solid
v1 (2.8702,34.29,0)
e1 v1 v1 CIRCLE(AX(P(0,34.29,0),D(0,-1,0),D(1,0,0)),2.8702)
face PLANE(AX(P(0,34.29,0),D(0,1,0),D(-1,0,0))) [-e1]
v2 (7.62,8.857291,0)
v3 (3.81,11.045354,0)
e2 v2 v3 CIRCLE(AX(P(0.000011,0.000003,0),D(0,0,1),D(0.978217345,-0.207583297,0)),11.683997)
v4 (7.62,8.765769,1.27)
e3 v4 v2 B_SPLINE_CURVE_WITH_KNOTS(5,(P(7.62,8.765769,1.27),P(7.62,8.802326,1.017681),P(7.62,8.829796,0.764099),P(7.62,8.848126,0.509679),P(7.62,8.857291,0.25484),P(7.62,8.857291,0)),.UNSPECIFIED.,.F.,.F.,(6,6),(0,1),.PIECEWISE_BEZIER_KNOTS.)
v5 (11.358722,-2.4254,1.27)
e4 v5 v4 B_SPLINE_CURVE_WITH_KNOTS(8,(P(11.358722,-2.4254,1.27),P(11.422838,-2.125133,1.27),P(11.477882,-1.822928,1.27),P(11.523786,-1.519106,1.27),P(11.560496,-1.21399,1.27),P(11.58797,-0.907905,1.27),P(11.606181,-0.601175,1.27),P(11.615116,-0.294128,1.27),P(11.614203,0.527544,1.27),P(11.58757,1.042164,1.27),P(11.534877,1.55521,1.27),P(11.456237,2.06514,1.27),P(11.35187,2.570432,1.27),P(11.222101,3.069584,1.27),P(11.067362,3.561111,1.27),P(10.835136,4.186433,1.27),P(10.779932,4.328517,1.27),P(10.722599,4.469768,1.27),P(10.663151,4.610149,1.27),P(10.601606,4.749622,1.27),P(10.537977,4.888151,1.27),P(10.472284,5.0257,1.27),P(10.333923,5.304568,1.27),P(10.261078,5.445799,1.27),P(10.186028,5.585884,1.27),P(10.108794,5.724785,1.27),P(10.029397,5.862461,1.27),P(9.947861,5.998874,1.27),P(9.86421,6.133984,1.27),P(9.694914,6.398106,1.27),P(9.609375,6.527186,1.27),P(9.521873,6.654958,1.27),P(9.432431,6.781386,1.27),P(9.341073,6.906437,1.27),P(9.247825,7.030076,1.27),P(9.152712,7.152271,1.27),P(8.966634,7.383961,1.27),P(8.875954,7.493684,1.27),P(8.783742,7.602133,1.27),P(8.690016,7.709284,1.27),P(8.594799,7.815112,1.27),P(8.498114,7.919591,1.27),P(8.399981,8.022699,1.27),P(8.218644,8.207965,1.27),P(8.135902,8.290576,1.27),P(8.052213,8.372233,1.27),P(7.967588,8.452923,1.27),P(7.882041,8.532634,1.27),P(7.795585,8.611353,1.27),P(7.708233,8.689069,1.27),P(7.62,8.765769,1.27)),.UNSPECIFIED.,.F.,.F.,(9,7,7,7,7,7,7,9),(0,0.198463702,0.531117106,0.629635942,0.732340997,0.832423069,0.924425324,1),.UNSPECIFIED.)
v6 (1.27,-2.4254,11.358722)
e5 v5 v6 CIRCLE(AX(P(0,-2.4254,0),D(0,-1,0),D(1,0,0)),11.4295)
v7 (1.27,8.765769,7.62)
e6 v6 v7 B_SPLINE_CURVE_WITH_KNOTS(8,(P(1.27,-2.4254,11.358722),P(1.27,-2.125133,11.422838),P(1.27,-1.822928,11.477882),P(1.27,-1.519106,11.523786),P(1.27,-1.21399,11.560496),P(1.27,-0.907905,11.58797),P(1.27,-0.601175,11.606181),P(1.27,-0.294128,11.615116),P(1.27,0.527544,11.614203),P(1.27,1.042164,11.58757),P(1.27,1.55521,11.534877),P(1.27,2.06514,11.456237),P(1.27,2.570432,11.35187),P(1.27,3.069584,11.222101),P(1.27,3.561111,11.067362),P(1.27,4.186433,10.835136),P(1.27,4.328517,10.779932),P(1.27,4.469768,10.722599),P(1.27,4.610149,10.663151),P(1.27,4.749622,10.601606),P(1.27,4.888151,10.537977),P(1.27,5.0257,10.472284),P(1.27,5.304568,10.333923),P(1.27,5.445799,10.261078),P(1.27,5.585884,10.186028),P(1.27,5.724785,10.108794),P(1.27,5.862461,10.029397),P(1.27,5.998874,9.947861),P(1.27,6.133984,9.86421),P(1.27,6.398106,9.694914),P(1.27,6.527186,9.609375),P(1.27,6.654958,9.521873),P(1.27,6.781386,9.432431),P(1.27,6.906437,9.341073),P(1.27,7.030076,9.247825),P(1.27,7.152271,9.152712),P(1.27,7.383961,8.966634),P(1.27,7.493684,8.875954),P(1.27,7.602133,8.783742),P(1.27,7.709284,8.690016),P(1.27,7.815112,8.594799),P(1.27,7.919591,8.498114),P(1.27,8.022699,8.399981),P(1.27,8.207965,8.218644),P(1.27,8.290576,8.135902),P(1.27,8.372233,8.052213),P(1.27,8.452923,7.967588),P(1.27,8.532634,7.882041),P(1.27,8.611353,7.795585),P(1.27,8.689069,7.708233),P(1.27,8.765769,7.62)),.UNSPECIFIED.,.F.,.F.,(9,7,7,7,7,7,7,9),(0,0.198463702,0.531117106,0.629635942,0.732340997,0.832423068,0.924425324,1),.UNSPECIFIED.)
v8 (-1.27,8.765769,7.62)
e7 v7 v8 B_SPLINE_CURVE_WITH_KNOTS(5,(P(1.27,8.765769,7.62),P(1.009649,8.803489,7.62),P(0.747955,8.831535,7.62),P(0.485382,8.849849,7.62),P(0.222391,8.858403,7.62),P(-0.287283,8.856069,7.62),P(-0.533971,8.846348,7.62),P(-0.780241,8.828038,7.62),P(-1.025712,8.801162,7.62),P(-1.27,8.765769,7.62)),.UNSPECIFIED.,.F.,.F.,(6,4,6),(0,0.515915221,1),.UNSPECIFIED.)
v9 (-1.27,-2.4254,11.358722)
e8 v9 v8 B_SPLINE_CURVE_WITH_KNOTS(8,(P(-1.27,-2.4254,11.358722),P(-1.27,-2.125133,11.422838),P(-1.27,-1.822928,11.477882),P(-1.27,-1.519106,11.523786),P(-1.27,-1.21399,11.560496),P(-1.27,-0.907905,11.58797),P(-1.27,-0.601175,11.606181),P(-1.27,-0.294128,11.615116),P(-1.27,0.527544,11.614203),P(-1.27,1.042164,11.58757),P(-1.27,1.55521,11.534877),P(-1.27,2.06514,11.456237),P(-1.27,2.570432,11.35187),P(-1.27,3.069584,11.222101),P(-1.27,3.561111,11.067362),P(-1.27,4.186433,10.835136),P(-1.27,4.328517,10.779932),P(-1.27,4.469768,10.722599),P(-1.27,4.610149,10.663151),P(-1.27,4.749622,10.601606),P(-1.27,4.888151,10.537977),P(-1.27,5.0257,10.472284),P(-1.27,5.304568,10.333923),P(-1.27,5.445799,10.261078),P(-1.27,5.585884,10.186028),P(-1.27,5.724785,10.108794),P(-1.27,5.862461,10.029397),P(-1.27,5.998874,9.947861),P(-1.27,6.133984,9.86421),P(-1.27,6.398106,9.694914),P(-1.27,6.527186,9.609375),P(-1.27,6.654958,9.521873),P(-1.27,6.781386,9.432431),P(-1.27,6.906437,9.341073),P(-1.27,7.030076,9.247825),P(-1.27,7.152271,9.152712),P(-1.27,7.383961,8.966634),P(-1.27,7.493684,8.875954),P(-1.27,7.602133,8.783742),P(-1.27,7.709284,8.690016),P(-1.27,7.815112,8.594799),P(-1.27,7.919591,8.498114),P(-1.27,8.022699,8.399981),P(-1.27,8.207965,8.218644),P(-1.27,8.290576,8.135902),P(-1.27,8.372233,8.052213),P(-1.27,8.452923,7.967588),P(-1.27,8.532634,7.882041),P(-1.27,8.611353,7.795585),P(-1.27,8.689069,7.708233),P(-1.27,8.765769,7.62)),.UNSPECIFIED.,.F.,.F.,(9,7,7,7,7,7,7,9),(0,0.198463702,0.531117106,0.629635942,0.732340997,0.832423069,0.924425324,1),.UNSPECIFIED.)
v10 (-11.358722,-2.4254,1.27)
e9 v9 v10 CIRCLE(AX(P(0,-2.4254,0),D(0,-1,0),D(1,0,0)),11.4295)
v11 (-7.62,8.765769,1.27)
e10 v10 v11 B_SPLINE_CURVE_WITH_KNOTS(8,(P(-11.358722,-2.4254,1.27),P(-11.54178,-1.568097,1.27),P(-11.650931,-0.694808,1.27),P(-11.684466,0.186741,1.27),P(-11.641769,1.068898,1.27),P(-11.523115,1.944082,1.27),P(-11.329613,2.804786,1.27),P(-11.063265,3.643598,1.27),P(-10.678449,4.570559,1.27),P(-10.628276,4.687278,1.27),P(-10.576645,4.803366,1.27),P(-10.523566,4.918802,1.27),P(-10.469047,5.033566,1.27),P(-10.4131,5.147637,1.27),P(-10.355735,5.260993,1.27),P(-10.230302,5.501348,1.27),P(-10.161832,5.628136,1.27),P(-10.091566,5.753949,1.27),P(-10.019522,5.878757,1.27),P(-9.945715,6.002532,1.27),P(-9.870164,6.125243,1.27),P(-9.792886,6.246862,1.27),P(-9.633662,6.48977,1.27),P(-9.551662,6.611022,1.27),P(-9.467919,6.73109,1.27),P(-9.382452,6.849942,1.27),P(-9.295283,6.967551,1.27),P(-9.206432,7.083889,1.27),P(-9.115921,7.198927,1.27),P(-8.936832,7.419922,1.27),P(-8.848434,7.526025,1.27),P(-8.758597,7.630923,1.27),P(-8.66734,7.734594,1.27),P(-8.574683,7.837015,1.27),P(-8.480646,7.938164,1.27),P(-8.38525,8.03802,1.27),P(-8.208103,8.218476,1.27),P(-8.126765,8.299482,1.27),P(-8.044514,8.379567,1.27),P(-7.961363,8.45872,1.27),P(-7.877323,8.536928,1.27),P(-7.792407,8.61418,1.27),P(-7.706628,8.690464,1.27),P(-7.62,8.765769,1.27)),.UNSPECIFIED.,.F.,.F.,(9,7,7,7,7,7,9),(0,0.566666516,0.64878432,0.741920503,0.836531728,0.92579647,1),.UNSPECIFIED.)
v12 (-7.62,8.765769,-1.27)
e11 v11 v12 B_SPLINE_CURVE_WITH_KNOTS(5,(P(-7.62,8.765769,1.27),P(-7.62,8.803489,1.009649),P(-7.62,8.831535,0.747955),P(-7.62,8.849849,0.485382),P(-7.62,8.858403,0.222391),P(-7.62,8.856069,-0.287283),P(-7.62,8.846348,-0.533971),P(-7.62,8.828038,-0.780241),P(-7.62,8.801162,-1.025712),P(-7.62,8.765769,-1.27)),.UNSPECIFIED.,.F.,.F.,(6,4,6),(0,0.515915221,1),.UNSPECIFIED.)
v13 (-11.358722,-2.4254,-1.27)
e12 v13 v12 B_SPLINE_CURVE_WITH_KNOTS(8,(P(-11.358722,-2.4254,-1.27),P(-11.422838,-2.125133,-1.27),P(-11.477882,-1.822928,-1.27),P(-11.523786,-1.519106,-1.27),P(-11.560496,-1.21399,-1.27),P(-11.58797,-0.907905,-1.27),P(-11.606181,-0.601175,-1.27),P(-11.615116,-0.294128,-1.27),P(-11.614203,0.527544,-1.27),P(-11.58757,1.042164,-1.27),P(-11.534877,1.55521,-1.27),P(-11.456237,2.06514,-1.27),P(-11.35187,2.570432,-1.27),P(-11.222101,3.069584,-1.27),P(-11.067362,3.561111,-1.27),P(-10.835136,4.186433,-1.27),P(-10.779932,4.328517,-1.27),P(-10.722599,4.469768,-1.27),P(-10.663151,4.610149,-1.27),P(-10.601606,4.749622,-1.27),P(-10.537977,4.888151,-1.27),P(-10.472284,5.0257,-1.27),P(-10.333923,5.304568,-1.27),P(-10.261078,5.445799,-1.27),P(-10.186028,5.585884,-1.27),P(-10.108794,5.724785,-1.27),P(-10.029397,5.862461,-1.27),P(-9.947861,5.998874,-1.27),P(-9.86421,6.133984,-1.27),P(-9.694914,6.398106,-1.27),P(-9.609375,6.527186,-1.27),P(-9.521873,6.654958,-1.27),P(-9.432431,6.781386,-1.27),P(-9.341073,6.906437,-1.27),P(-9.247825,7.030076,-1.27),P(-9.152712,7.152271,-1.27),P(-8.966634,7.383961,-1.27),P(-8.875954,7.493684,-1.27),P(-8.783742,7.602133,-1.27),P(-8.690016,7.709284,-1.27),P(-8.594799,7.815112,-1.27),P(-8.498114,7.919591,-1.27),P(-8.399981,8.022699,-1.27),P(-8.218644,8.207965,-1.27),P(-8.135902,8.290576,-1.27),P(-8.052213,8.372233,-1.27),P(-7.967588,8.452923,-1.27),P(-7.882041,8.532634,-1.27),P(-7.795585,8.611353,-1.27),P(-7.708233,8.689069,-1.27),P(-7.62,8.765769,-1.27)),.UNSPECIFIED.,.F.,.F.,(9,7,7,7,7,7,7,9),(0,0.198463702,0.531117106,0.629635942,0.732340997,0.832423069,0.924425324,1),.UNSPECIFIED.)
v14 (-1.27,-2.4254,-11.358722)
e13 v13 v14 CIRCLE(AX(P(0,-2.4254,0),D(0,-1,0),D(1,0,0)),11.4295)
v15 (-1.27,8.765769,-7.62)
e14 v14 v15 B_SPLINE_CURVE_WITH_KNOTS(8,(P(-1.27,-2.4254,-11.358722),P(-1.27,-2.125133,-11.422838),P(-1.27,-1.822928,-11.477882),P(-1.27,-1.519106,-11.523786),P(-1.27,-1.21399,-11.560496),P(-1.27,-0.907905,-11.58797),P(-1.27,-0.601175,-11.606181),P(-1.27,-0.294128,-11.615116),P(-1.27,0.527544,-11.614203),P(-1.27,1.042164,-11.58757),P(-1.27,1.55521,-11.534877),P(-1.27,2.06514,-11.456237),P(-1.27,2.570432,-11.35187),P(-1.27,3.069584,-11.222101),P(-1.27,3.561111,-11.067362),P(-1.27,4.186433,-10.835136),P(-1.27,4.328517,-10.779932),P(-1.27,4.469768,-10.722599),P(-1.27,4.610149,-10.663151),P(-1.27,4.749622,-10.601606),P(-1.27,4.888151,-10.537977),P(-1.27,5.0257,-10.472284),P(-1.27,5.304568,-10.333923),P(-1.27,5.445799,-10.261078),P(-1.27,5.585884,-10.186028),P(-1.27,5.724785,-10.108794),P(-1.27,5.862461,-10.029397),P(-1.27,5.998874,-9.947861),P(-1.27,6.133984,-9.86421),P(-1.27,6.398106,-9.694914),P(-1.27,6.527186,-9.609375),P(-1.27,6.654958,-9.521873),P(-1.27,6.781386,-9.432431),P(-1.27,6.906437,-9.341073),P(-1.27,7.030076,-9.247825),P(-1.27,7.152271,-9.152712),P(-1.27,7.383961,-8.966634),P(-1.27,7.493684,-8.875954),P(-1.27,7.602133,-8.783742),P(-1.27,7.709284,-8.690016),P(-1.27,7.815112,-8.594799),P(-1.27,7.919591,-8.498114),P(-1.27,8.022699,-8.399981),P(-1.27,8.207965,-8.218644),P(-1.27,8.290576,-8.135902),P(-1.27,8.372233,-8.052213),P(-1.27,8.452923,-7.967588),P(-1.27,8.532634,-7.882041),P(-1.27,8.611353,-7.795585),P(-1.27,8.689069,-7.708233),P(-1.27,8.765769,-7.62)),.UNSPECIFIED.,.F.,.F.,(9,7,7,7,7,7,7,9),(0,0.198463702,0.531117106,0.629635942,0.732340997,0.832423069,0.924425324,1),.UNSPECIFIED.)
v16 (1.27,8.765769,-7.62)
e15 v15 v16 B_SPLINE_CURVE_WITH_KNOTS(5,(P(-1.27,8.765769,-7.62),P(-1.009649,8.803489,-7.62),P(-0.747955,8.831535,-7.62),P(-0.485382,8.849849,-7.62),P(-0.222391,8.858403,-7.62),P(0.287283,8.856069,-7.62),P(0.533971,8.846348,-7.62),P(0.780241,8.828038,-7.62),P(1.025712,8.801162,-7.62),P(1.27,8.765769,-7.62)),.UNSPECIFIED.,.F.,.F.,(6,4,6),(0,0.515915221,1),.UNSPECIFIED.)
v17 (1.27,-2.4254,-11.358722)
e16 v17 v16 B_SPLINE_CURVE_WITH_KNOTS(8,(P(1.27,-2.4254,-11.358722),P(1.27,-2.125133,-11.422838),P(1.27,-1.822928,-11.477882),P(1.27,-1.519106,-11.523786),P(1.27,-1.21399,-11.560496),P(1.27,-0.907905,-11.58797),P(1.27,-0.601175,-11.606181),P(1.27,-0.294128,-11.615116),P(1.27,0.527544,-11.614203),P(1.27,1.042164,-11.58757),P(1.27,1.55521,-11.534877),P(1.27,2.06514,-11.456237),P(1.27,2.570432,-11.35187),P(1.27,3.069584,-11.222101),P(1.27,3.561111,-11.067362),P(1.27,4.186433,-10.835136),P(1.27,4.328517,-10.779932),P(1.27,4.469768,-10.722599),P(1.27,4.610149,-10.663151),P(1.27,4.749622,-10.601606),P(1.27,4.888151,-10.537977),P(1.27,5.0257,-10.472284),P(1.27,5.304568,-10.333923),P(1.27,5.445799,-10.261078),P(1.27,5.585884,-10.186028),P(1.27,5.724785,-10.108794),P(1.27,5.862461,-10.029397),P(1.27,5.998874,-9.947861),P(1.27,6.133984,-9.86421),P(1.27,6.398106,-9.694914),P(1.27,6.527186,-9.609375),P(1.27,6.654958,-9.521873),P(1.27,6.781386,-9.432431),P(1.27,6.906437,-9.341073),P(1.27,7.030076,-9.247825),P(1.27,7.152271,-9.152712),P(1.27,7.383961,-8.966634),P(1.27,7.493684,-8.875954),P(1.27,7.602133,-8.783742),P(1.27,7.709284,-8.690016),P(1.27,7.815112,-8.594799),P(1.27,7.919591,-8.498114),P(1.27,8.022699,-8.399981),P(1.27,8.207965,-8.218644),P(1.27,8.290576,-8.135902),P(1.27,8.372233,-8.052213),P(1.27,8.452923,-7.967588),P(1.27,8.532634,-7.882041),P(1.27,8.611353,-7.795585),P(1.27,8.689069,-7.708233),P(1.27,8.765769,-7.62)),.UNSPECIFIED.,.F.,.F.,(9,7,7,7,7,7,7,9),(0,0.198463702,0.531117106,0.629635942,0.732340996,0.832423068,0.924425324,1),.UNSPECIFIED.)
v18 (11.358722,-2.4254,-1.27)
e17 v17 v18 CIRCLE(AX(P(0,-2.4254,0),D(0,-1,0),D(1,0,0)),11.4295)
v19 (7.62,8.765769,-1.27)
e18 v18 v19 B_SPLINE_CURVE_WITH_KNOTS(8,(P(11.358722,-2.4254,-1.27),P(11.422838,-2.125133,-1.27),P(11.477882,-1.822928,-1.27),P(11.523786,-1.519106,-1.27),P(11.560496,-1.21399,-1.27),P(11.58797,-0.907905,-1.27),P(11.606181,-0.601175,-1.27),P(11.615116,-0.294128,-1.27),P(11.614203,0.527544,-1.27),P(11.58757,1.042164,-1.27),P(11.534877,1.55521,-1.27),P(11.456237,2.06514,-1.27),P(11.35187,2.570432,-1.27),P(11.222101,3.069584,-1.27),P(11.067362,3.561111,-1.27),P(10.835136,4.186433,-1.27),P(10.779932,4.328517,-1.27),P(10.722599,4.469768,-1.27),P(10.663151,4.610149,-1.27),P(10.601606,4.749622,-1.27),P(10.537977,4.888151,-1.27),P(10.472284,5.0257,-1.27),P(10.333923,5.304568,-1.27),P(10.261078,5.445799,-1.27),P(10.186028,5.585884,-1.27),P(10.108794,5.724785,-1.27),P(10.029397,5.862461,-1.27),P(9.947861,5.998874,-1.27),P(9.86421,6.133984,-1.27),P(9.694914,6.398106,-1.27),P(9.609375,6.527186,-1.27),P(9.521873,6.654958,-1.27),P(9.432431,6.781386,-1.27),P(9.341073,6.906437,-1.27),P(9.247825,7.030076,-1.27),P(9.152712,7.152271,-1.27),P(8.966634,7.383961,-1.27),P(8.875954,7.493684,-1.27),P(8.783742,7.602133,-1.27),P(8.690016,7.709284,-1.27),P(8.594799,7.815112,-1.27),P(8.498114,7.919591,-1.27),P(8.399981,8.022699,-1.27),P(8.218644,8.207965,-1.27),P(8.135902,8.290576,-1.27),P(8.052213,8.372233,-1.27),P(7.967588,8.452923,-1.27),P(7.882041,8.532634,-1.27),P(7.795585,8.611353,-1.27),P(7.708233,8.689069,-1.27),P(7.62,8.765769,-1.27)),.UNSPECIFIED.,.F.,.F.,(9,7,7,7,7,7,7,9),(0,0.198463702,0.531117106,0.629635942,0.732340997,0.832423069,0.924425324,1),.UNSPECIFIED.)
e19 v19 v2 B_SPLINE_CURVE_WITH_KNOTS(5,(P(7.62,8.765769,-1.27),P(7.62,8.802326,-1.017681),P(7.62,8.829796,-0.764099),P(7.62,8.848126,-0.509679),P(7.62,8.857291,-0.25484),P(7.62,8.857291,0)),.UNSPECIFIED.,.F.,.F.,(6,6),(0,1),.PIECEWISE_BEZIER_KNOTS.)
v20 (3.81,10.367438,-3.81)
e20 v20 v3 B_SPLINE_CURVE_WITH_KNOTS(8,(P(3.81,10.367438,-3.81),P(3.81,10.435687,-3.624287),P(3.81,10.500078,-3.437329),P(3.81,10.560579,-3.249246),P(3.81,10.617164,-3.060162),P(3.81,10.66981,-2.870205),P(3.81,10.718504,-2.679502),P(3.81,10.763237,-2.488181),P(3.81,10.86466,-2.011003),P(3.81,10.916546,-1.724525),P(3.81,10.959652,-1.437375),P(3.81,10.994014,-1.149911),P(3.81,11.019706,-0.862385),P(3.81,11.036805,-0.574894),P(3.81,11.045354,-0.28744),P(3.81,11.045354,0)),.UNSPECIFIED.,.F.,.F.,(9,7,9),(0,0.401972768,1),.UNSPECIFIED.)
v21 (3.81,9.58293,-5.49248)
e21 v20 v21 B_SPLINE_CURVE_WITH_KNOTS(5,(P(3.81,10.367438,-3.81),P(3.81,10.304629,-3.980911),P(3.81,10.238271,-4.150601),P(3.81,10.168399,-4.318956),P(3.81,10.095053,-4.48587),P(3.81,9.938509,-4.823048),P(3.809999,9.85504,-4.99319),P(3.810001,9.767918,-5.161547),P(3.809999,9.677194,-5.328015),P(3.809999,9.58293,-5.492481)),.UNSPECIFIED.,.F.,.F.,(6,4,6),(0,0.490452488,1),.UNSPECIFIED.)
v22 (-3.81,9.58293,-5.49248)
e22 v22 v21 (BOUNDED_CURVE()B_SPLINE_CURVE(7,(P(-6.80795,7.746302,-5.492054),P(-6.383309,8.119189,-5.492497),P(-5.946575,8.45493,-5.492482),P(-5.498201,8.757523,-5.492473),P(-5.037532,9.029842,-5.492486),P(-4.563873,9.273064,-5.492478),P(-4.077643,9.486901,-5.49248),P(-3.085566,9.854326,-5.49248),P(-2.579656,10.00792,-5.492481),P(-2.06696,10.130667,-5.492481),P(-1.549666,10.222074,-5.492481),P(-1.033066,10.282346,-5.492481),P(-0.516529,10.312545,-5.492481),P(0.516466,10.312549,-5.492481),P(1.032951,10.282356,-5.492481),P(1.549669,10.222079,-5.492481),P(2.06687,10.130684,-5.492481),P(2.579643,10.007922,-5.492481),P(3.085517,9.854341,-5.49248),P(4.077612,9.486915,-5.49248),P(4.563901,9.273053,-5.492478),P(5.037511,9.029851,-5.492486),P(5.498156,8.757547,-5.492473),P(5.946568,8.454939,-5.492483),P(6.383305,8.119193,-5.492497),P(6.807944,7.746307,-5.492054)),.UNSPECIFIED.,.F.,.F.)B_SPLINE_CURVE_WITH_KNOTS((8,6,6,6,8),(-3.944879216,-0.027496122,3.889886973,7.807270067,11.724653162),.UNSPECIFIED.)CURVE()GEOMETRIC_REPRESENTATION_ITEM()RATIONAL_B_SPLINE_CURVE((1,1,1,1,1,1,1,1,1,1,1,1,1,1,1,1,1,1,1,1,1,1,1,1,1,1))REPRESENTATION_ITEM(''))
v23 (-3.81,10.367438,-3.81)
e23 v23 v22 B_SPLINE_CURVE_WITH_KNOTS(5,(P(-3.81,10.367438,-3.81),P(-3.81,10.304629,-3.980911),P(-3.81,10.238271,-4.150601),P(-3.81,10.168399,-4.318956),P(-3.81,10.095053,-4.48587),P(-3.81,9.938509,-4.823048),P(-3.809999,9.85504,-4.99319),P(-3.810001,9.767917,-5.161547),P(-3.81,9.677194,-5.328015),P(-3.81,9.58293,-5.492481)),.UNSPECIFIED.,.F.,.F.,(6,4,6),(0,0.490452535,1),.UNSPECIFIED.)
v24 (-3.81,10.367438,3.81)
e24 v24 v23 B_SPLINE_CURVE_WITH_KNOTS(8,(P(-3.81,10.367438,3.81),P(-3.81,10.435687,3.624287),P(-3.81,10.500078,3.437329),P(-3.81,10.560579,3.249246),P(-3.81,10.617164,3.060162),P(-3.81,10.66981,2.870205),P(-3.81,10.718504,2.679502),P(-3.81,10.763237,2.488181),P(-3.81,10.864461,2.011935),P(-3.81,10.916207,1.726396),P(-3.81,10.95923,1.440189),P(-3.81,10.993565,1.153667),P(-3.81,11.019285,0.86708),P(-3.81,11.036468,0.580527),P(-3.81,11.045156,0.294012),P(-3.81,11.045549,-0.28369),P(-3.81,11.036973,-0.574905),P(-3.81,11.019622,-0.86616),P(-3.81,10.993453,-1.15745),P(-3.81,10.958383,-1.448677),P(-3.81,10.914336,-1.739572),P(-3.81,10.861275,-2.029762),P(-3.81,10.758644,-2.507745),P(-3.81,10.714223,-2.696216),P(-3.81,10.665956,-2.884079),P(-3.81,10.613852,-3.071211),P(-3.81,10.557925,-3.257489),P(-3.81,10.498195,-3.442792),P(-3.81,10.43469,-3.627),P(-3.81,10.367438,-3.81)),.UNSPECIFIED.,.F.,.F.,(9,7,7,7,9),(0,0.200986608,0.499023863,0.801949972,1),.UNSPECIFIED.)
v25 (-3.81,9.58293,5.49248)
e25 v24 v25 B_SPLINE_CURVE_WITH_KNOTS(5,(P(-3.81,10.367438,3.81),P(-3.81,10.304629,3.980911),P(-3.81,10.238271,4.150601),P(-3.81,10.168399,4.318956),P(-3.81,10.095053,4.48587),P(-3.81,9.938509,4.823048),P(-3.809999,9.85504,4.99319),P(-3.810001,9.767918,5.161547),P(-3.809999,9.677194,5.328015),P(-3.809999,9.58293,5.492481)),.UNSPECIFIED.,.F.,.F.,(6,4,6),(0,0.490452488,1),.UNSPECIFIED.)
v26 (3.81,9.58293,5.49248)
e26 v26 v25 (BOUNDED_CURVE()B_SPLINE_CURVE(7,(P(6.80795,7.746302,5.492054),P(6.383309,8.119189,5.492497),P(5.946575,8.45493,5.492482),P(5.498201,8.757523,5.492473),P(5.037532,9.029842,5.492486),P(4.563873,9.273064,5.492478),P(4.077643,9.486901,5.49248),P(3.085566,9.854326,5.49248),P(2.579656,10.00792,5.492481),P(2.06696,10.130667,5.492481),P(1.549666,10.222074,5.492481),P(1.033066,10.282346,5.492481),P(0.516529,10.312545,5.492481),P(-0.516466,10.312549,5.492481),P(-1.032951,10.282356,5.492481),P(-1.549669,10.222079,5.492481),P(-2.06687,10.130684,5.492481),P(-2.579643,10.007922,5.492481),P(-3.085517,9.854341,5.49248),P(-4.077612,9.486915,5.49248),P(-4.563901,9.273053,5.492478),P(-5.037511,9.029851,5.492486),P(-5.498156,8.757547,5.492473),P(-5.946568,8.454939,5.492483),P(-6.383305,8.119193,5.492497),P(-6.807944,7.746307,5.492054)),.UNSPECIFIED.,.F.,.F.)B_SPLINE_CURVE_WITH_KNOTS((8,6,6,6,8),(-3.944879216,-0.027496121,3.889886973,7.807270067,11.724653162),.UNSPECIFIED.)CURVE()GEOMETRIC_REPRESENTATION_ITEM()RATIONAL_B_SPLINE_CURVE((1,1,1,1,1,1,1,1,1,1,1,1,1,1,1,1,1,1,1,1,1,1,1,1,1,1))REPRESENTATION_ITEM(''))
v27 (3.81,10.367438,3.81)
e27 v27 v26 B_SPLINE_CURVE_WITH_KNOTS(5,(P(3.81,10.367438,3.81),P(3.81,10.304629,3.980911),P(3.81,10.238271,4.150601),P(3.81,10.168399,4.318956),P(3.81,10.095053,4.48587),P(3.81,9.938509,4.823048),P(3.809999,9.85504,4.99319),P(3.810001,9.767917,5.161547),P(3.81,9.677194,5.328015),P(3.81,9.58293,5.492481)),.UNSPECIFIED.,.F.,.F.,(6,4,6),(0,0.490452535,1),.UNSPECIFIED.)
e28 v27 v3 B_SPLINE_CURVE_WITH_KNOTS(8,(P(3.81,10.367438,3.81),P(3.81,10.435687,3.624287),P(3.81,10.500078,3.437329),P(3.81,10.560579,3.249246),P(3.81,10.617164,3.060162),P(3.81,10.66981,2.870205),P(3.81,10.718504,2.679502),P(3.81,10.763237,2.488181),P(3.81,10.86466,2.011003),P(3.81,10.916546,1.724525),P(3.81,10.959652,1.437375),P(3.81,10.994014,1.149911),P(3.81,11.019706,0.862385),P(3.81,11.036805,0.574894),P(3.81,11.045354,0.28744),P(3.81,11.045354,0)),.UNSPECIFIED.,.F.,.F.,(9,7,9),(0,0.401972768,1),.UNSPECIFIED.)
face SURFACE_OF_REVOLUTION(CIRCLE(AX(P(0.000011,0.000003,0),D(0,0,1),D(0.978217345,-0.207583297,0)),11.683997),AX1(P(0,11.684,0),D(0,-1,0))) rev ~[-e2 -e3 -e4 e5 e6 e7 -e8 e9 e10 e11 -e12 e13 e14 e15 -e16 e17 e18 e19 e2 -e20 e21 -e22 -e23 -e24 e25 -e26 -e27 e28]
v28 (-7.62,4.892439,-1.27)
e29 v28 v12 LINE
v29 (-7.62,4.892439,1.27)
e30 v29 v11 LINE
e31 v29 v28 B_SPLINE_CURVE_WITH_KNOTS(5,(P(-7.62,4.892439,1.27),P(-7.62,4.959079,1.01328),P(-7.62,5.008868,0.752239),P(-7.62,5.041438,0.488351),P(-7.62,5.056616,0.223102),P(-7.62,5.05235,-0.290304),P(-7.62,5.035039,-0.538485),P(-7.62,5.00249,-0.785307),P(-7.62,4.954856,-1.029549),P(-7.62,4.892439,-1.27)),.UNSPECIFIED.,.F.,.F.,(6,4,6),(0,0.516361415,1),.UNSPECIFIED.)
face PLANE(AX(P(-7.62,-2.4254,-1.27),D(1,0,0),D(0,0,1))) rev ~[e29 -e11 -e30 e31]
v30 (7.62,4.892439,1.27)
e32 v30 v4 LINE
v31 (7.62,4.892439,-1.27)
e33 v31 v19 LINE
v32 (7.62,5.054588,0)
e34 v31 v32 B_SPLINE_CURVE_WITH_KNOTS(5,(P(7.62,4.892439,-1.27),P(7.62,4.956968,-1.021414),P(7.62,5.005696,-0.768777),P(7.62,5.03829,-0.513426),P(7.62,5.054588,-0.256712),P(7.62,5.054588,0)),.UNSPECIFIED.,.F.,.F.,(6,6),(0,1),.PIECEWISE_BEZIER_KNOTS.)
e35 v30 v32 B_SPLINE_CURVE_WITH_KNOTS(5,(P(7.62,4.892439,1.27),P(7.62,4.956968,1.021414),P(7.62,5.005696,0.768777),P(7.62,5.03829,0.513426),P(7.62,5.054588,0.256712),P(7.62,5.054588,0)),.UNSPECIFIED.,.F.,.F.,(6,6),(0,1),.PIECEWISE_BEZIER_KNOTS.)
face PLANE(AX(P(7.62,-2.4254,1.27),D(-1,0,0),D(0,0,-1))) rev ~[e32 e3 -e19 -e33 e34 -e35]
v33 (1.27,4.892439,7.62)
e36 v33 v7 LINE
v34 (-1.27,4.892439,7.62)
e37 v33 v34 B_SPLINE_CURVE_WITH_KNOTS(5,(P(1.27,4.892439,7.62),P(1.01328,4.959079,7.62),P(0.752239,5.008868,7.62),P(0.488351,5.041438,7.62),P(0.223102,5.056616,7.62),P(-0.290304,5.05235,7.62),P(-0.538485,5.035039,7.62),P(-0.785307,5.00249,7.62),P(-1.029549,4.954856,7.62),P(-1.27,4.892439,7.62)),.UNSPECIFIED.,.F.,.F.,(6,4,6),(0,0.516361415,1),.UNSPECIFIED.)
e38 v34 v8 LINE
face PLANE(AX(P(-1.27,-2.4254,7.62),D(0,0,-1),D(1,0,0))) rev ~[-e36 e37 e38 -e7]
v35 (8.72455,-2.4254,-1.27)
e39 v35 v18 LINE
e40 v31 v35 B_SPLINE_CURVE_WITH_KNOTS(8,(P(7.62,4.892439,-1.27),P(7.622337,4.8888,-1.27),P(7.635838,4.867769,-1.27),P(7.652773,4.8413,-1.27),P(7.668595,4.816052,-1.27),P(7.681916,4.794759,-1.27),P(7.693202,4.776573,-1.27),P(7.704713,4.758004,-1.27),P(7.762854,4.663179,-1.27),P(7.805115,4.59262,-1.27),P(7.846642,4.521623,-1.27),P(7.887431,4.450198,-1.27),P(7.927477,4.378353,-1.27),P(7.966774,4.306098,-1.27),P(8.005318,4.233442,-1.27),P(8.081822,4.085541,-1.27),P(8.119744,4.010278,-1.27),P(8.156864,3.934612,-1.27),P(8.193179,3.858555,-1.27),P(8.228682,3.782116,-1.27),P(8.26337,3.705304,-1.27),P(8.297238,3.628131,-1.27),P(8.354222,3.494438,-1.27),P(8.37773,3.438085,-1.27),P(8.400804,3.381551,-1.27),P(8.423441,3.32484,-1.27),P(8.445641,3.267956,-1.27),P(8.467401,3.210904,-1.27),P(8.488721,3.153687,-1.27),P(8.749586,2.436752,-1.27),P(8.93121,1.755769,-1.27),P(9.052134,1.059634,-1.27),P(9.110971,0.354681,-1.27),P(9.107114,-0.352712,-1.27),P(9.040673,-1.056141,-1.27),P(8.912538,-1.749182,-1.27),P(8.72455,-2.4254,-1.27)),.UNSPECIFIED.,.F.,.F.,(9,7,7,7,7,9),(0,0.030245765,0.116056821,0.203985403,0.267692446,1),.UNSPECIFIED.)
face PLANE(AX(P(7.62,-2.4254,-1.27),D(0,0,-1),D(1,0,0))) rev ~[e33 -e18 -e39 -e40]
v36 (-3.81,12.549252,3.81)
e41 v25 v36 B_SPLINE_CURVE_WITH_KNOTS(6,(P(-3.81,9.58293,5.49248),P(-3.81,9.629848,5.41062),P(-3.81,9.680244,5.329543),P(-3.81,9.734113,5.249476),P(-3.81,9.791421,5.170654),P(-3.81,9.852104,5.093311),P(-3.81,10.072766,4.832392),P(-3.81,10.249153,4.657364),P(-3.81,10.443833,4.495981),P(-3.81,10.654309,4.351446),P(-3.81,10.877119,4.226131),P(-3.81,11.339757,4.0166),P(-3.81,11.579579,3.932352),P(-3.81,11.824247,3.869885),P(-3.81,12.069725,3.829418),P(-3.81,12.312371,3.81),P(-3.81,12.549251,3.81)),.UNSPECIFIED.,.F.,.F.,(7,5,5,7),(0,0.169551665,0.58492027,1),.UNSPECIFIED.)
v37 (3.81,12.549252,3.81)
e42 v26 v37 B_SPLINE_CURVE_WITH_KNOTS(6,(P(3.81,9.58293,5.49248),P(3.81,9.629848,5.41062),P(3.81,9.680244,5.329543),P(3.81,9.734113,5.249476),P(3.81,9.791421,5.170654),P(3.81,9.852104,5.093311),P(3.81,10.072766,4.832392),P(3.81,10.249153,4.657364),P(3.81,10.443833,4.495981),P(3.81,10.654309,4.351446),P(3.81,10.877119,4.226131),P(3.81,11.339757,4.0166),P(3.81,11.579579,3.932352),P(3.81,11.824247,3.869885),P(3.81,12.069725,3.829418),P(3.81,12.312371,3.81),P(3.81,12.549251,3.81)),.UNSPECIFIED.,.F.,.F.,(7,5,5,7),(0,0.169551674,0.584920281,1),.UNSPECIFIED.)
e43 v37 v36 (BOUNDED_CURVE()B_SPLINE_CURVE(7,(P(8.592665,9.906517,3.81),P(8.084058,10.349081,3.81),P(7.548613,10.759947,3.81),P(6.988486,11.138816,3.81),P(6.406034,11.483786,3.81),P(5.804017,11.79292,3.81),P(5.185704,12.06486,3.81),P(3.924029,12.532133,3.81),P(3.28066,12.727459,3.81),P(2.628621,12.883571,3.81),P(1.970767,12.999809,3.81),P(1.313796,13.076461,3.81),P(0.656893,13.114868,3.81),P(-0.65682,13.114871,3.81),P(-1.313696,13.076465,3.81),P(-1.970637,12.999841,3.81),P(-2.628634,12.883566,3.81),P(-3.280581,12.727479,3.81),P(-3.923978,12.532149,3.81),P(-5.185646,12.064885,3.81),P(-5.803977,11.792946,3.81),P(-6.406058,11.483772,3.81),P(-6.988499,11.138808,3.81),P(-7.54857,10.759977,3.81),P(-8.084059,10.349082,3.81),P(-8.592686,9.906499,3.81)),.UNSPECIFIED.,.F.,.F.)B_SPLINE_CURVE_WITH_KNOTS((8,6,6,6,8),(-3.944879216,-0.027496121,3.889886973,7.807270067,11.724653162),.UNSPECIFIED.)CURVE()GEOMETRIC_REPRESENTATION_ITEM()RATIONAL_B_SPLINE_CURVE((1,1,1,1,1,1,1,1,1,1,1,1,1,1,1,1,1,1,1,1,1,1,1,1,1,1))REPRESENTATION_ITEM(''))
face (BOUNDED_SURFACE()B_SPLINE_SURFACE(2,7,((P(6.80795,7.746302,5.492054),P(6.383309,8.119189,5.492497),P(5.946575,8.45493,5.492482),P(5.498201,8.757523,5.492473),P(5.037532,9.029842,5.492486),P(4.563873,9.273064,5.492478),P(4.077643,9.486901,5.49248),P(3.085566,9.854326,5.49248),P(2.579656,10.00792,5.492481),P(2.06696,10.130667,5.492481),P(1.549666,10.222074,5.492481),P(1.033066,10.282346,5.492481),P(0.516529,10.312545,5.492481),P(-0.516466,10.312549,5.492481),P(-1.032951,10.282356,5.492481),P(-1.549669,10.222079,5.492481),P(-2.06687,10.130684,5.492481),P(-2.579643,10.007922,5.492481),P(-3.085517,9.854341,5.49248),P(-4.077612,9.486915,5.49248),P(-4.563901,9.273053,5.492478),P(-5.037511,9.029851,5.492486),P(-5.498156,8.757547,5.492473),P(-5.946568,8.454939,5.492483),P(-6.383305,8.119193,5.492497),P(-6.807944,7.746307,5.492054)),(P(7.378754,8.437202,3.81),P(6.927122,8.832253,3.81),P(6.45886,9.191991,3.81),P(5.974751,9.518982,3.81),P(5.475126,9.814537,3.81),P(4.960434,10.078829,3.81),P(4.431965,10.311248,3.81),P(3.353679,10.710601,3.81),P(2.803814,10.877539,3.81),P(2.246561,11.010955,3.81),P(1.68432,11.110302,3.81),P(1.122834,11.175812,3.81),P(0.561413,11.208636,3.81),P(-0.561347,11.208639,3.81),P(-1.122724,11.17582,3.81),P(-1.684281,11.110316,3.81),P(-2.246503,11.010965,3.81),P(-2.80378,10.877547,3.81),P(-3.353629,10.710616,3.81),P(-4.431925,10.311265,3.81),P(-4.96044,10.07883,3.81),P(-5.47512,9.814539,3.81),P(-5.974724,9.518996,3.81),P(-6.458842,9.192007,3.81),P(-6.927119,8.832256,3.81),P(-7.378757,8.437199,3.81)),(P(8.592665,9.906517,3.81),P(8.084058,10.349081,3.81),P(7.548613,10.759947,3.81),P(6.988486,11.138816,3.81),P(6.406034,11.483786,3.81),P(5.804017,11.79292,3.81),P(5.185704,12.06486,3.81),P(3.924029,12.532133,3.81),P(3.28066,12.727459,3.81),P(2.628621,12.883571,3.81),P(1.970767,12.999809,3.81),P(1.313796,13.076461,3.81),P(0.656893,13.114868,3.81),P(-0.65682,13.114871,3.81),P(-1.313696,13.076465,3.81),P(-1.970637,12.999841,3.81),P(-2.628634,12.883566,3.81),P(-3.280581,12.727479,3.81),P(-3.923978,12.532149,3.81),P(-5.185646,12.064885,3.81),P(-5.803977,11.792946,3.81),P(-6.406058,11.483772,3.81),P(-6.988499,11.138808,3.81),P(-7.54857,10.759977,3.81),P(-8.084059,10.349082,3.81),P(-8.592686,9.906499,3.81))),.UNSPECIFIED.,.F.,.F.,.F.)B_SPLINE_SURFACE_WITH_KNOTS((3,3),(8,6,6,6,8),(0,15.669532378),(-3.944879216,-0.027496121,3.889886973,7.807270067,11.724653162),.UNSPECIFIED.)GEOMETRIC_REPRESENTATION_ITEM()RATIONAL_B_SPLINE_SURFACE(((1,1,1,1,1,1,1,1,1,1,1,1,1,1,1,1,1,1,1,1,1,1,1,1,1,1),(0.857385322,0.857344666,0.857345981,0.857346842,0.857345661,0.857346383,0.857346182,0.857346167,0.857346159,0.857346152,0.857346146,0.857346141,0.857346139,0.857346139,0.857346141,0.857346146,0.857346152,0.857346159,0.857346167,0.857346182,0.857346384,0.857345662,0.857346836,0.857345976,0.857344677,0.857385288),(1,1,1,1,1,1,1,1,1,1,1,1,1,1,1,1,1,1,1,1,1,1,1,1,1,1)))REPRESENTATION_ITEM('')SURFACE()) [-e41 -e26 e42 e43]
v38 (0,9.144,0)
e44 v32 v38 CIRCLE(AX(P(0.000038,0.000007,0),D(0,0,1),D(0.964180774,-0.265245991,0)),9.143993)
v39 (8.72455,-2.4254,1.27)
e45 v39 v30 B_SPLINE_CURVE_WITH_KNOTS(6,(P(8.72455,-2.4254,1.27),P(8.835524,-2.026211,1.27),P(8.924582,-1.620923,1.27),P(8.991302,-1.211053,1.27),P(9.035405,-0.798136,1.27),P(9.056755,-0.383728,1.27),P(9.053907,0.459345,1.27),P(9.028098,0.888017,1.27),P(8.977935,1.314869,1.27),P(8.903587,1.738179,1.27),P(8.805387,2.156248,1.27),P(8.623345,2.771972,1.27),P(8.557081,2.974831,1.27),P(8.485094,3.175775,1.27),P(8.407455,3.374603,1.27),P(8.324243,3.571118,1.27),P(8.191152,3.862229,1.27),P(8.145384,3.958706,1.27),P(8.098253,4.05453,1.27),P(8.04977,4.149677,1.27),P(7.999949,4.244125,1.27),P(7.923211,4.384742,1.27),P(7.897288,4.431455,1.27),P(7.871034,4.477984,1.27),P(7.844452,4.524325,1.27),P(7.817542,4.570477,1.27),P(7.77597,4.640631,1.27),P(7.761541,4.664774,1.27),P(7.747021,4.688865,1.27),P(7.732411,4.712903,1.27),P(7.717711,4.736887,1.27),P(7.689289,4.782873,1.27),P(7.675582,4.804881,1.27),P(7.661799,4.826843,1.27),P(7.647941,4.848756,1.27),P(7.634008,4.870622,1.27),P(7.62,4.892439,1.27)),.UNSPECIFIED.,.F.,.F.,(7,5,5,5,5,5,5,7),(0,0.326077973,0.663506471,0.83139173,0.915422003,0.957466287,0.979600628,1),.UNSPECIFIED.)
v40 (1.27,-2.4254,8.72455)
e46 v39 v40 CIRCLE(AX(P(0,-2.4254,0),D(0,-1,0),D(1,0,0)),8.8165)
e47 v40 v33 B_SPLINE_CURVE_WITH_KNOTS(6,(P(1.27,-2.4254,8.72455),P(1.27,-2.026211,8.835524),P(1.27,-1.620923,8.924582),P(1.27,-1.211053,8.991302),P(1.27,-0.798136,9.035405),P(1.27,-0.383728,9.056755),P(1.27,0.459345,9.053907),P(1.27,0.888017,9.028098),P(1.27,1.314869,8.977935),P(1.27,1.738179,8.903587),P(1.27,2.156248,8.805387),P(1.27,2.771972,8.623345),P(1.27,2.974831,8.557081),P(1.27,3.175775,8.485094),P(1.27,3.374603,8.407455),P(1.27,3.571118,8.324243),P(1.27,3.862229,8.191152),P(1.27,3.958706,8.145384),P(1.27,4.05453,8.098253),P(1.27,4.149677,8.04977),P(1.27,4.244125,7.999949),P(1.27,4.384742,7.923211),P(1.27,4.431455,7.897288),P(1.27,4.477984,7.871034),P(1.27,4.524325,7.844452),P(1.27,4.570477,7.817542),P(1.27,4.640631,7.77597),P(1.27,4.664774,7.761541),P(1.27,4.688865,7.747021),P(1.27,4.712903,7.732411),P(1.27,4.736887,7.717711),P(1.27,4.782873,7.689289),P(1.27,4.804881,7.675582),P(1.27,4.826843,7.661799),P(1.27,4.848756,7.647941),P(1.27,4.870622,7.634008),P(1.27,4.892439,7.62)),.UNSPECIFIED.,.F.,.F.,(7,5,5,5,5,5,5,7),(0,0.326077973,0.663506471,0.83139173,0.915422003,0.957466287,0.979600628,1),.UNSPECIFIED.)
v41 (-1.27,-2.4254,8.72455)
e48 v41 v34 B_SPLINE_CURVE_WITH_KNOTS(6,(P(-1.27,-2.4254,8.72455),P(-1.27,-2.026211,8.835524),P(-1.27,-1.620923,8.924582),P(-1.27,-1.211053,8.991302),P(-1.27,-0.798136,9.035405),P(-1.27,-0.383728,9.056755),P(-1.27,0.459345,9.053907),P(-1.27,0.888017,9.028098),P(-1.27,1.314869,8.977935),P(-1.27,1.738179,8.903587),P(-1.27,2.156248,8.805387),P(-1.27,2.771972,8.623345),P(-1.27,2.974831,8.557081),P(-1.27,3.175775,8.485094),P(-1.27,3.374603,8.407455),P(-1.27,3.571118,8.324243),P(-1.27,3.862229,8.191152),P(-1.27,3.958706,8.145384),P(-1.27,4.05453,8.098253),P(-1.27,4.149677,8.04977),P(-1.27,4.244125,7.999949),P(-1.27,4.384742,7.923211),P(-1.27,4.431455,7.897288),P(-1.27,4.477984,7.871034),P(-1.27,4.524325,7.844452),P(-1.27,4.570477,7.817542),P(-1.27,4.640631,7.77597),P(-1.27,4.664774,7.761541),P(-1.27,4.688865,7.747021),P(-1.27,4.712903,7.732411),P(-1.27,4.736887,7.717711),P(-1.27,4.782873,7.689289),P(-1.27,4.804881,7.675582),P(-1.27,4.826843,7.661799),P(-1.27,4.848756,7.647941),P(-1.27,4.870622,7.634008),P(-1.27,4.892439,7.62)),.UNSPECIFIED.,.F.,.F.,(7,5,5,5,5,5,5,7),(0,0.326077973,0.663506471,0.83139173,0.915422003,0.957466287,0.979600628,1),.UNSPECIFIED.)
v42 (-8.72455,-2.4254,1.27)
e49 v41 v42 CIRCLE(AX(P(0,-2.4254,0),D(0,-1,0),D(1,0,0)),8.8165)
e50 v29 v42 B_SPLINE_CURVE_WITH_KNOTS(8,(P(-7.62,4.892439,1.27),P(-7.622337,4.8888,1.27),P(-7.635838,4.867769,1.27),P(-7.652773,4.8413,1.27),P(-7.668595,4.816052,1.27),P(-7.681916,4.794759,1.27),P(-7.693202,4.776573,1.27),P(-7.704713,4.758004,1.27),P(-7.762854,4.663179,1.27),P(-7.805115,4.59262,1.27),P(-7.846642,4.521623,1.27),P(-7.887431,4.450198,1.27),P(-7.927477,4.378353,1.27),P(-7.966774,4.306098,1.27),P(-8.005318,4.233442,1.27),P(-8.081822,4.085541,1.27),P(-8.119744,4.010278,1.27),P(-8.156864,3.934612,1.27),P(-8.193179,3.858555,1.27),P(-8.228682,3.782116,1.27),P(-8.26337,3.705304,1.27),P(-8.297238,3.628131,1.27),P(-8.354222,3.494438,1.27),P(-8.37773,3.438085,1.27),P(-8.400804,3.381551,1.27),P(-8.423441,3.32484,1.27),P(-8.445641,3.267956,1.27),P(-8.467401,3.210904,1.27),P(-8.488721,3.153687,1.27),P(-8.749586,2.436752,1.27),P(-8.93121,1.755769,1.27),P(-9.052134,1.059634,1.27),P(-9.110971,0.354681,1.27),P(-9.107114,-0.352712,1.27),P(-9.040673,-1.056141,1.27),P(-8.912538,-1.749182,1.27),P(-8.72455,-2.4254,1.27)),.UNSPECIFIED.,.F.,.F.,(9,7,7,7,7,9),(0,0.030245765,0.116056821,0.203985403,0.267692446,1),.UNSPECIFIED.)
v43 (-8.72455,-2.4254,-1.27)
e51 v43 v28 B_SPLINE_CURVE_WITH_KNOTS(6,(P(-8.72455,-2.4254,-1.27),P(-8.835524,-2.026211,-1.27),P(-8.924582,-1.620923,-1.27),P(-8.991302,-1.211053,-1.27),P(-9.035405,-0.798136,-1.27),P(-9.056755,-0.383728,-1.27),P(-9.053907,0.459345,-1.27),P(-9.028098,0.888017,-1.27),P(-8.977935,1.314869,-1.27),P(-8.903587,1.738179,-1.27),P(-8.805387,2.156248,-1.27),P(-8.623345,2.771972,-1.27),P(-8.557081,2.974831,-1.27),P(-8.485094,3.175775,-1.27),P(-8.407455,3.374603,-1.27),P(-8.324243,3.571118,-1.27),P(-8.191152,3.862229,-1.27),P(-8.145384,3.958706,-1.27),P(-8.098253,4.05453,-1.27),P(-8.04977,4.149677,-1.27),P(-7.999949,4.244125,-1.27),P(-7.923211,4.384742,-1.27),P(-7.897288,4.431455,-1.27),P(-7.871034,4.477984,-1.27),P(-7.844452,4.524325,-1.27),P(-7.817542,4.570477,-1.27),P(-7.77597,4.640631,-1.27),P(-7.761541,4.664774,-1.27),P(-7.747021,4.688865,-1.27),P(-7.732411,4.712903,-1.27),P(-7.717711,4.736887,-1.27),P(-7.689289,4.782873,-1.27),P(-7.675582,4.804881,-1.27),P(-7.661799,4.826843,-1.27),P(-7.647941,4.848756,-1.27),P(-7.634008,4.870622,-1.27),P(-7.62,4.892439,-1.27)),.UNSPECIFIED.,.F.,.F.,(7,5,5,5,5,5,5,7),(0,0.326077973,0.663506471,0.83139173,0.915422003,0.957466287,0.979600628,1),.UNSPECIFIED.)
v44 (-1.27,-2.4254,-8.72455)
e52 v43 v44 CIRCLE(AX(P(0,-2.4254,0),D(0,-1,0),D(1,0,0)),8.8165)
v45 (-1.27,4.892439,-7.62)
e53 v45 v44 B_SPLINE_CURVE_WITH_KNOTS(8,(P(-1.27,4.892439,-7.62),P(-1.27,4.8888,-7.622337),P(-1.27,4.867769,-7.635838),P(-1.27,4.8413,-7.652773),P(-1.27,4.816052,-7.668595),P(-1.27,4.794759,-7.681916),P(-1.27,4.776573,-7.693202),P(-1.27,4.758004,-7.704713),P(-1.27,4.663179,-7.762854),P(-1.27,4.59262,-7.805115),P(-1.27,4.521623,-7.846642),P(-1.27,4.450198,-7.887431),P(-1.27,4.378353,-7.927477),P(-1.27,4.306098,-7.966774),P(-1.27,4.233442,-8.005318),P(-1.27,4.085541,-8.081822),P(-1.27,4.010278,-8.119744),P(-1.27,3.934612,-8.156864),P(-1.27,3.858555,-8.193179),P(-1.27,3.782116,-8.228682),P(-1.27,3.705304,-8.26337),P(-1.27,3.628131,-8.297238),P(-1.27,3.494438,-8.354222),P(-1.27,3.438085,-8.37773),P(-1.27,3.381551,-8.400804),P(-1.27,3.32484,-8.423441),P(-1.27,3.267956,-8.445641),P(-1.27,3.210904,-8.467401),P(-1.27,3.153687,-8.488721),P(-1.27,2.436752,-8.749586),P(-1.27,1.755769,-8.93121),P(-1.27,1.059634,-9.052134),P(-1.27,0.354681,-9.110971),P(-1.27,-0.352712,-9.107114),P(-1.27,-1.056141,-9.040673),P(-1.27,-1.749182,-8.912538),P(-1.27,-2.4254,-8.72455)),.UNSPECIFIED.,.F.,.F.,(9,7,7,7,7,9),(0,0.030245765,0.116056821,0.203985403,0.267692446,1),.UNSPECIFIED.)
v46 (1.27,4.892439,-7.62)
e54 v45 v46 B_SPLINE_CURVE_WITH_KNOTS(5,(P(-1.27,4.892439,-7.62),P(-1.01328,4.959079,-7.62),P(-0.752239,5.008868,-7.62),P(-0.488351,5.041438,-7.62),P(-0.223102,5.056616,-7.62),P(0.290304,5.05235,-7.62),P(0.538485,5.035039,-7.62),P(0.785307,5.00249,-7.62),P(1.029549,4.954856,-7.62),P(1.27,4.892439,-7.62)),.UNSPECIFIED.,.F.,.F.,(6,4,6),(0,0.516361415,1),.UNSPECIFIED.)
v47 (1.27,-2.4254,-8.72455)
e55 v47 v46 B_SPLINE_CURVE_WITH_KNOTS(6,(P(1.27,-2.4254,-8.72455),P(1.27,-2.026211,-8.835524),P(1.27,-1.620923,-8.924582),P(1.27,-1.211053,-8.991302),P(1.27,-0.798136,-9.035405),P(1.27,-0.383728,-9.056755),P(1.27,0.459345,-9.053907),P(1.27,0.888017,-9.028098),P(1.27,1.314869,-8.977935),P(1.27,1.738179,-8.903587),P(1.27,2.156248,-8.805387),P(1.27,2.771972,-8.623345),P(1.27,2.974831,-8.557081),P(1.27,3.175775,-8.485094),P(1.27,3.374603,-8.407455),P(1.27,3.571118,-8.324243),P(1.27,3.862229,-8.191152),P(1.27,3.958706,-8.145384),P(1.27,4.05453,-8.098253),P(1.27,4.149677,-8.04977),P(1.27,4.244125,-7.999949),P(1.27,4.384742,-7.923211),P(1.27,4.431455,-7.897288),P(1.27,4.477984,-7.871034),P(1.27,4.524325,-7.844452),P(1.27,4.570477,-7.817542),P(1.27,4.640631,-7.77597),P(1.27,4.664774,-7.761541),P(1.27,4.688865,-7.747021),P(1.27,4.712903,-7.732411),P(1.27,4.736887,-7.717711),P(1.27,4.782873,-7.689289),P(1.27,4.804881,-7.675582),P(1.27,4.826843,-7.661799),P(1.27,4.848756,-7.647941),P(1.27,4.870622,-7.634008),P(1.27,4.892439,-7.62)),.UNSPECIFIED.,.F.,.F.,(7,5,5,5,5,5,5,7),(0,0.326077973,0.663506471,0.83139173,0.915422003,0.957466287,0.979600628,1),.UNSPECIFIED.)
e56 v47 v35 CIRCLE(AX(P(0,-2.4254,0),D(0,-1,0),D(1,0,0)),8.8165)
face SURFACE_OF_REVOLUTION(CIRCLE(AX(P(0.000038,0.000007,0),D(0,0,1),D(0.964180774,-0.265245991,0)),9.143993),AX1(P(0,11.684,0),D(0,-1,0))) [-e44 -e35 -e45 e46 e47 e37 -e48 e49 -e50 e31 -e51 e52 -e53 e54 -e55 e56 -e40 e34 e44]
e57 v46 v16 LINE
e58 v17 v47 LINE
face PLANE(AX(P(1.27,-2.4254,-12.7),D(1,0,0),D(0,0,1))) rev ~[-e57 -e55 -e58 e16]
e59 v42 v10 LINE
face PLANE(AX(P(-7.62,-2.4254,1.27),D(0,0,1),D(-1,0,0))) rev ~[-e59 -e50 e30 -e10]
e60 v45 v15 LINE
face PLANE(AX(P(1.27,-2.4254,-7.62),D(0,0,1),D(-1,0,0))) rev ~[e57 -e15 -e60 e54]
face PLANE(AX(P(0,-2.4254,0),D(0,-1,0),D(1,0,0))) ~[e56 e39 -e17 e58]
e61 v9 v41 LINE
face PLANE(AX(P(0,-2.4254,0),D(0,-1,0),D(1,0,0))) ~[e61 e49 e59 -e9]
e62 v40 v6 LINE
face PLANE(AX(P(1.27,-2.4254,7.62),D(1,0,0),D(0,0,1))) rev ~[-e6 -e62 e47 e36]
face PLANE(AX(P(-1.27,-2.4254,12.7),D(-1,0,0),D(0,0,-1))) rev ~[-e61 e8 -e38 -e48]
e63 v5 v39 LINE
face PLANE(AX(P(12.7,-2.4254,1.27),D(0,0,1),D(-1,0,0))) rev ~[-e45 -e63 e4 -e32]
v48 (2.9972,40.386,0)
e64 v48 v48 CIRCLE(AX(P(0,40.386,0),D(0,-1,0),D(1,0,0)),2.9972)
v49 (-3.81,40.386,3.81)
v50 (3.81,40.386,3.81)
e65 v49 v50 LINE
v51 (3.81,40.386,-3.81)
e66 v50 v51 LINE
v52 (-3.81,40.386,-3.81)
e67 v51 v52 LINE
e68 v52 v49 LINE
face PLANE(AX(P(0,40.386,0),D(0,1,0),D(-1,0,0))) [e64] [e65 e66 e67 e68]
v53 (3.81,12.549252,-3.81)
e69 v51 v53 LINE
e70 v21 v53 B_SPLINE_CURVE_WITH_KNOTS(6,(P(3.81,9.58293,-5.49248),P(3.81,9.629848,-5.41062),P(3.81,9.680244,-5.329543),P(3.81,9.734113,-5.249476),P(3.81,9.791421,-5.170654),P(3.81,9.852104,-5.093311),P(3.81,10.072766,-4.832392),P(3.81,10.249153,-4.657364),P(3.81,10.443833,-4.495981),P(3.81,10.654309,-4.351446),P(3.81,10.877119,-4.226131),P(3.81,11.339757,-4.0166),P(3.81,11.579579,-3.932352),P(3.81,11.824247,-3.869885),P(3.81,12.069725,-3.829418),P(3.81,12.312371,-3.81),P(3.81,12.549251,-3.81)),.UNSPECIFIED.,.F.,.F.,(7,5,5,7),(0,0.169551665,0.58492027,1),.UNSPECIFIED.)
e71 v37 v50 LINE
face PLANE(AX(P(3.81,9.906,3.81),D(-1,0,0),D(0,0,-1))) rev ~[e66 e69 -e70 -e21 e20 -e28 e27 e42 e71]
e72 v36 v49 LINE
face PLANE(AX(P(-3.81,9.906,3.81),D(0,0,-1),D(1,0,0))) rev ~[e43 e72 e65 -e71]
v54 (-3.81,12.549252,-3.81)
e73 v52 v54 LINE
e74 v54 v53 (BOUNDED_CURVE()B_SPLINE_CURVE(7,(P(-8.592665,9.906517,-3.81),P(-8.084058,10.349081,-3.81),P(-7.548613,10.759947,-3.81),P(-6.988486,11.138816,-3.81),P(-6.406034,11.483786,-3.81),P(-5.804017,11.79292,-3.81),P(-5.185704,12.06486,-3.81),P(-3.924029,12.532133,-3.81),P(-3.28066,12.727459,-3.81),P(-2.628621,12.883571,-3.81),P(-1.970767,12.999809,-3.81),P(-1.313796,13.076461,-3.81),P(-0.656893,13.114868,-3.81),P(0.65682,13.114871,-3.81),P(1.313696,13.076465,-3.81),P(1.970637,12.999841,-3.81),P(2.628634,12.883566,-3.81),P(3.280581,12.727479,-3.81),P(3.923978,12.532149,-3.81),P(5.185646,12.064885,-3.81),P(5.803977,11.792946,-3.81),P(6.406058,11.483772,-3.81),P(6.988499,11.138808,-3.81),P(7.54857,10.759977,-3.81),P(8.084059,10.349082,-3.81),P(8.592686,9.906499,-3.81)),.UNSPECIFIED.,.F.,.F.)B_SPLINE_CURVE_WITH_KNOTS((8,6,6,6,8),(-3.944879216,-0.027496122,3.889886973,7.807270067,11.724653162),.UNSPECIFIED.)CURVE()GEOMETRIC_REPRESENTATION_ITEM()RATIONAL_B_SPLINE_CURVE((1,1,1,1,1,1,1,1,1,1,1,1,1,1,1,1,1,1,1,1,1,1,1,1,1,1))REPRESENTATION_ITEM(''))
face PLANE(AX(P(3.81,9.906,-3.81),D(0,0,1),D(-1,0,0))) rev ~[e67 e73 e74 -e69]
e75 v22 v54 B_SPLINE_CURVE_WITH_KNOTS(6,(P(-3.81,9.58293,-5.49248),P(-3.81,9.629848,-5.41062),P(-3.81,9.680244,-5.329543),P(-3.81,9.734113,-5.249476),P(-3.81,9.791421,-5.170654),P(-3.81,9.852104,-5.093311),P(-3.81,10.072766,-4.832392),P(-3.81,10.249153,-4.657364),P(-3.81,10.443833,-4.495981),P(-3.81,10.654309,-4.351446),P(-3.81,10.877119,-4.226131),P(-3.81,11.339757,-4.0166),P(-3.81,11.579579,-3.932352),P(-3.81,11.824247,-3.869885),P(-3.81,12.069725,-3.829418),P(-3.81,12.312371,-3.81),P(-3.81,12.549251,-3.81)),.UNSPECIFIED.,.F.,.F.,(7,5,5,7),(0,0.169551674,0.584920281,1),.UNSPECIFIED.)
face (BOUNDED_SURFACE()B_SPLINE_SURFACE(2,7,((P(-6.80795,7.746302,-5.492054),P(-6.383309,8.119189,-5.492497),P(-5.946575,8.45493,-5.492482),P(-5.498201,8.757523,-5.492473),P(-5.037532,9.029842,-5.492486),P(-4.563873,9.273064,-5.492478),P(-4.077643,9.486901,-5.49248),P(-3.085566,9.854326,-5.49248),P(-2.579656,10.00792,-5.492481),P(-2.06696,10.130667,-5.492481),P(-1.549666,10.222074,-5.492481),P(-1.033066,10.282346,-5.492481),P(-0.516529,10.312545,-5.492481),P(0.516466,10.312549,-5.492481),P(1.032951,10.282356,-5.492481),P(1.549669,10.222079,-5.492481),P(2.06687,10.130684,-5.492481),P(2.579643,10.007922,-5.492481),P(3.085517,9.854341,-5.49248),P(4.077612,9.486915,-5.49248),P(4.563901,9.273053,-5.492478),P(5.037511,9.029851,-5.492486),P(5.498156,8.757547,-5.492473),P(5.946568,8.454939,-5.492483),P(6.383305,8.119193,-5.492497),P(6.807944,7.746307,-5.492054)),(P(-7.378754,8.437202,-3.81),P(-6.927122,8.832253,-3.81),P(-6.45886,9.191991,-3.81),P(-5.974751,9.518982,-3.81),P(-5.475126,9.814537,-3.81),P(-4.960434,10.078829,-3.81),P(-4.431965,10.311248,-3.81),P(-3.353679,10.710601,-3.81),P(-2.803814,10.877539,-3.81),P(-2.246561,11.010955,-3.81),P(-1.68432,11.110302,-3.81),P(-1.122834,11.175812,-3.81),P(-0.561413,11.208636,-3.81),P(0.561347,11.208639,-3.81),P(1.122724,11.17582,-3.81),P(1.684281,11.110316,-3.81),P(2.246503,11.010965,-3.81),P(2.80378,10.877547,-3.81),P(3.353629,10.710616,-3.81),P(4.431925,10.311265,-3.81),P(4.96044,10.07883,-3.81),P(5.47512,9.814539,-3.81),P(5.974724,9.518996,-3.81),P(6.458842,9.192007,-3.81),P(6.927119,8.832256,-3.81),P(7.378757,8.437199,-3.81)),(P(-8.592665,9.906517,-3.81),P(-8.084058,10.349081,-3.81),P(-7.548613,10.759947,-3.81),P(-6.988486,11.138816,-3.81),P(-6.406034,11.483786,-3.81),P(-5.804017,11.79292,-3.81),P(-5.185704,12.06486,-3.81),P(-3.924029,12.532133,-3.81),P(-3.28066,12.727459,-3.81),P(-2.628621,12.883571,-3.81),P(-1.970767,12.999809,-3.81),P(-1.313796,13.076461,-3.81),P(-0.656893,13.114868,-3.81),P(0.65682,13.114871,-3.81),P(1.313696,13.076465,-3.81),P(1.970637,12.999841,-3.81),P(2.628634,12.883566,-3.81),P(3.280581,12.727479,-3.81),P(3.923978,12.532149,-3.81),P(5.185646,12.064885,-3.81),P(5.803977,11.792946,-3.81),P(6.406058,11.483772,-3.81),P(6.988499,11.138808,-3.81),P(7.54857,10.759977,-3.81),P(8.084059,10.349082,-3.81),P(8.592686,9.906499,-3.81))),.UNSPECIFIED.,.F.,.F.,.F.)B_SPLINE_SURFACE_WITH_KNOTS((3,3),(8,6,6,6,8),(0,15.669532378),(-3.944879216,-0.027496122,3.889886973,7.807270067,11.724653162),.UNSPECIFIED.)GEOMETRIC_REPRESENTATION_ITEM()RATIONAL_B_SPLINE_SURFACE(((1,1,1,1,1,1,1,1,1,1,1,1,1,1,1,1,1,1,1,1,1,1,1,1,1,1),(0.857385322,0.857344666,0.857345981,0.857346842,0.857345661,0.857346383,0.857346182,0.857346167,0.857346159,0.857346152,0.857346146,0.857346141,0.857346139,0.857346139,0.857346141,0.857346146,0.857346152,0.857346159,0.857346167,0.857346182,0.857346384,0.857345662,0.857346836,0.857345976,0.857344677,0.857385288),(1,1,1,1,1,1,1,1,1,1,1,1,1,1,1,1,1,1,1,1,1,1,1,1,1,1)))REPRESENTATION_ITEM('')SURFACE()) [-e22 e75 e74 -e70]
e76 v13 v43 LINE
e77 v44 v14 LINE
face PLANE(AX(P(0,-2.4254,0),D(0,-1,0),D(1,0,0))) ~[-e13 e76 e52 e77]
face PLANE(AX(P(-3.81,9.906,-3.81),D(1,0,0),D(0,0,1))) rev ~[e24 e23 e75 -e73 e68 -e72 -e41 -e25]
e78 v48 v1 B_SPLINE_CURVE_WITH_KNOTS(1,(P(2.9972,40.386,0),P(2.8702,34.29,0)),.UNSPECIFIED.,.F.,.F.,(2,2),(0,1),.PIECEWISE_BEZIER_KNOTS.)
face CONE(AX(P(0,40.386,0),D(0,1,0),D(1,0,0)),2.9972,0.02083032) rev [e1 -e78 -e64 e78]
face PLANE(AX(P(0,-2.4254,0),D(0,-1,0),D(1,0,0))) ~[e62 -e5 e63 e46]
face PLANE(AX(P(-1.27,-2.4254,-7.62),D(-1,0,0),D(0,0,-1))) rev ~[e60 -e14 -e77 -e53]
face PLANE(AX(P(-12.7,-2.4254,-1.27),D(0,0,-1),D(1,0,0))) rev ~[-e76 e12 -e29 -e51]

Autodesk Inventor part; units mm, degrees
ref_plane "YZ Plane" through (0, 0, 0) normal (1, 0, 0) x (0, 1, 0)
ref_plane "XY Plane" through (0, 0, 0) normal (0, 0, 1) x (1, 0, 0)
sketch "Sketch2" plane through (0, 0, 0) normal (0, 0, 1) x (1, 0, 0)
  arc A0 (11.4295, -2.4254) -> (0, 11.684) centre (0, 0) ccw
  arc A1 (8.8165, -2.4254) -> (0, 9.144) centre (0, 0) ccw
  line L0 (0, 11.684) -> (0, -2.8271)
  line L1 (8.8165, -2.4254) -> (11.4295, -2.4254)
  dimension "d23" = 9.144
  dimension "d35" = 2.54
revolve "Revolution1" add sketch "Sketch2" angle 360 about axis through (0, 11.684, 0) along (0, -1, 0)
ref_plane "Work Plane1" through (0, 9.906, 0) normal (0, 1, 0) x (-1, 0, 0)
sketch "Sketch3" plane through (0, 9.906, 0) normal (0, 1, 0) x (-1, 0, 0)
  line L0 (3.81, 3.81) -> (-3.81, 3.81)
  line L1 (-3.81, 3.81) -> (-3.81, -3.81)
  line L2 (-3.81, -3.81) -> (3.81, -3.81)
  line L3 (3.81, -3.81) -> (3.81, 3.81)
  circle A0 centre (0, 0) radius 11.4295 projected
  point P0 (0, 0)
  point P1 (0, -3.81)
  point P2 (3.81, 0)
  dimension "d5" = 7.62
  dimension "d6" = 7.62
extrude "Extrusion1" add sketch "Sketch3" along normal blind 30.48 and the other way blind 0.381 contours L3 L2 L1 L0
sketch "Sketch4" plane through (0, -2.4254, 0) normal (0, -1, 0) x (1, 0, 0)
  point P0 (0, 0)
sketch "Sketch5" plane through (0, -2.4254, 0) normal (0, -1, 0) x (1, 0, 0)
  line L0 (10.2113, 1.3284) -> (10.2113, 1.3748)
  line L1 (1.27, -7.62) -> (-1.27, -7.62)
  line L2 (-1.27, -7.62) -> (-1.27, -12.7)
  line L3 (-1.27, -12.7) -> (1.27, -12.7)
  line L4 (1.27, -12.7) -> (1.27, -7.62)
  line L5 (7.62, 1.27) -> (7.62, -1.27)
  line L6 (7.62, -1.27) -> (12.7, -1.27)
  line L7 (12.7, -1.27) -> (12.7, 1.27)
  line L8 (12.7, 1.27) -> (7.62, 1.27)
  line L9 (-1.27, 7.62) -> (1.27, 7.62)
  line L10 (1.27, 7.62) -> (1.27, 12.7)
  line L11 (1.27, 12.7) -> (-1.27, 12.7)
  line L12 (-1.27, 12.7) -> (-1.27, 7.62)
  line L13 (-7.62, -1.27) -> (-7.62, 1.27)
  line L14 (-7.62, 1.27) -> (-12.7, 1.27)
  line L15 (-12.7, 1.27) -> (-12.7, -1.27)
  line L16 (-12.7, -1.27) -> (-7.62, -1.27)
  point P0 (0, 0)
  dimension "d24" = 5.08
  dimension "d25" = 2.54
  dimension "d28" = 360
  dimension "d32" = 1.27
extrude "Extrusion3" cut sketch "Sketch5" against normal blind 12.7
fillet "Fillet1" radius 3.175 1 edges at (0, 11.0453, -3.81)
fillet "Fillet2" radius 3.175 1 edges at (0, 11.0453, 3.81)
sketch "Sketch7" plane through (0, 40.386, 0) normal (0, 1, 0) x (1, 0, 0)
  circle A0 centre (0, 0) radius 2.9972
  dimension "d39" = 5.9944
ref_plane "Work Plane3" through (0, 34.29, 0) normal (0, 1, 0) x (-1, 0, 0)
ref_plane "Work Plane2" through (0, 40.386, 0) normal (0, 1, 0) x (-1, 0, 0)
sketch "Sketch8" plane through (0, 34.29, 0) normal (0, 1, 0) x (-1, 0, 0)
  point P0 (0, 0)
sketch "Sketch9" plane through (0, 34.29, 0) normal (0, 1, 0) x (-1, 0, 0)
  circle A0 centre (0, 0) radius 2.8702
  dimension "d41" = 5.7404
loft "Loft1" cut profiles "Sketch7", "Sketch9"
equation "\"BendRadius\" = Thickness"
equation "\"BendReliefWidth\" = Thickness"
equation "\"BendReliefDepth\" = 0.5 * Thickness"
equation "\"CornerReliefSize\" = 4 * Thickness"
equation "\"MinimumRemnant\" = 2 * Thickness"
equation "\"TransitionRadius\" = BendRadius"
equation "\"JacobiRadiusSize\" = Thickness"
equation "\"GapSize\" = Thickness"
equation "\"Thickness\" = 3.048"
properties part number "Hew Castor 2"
